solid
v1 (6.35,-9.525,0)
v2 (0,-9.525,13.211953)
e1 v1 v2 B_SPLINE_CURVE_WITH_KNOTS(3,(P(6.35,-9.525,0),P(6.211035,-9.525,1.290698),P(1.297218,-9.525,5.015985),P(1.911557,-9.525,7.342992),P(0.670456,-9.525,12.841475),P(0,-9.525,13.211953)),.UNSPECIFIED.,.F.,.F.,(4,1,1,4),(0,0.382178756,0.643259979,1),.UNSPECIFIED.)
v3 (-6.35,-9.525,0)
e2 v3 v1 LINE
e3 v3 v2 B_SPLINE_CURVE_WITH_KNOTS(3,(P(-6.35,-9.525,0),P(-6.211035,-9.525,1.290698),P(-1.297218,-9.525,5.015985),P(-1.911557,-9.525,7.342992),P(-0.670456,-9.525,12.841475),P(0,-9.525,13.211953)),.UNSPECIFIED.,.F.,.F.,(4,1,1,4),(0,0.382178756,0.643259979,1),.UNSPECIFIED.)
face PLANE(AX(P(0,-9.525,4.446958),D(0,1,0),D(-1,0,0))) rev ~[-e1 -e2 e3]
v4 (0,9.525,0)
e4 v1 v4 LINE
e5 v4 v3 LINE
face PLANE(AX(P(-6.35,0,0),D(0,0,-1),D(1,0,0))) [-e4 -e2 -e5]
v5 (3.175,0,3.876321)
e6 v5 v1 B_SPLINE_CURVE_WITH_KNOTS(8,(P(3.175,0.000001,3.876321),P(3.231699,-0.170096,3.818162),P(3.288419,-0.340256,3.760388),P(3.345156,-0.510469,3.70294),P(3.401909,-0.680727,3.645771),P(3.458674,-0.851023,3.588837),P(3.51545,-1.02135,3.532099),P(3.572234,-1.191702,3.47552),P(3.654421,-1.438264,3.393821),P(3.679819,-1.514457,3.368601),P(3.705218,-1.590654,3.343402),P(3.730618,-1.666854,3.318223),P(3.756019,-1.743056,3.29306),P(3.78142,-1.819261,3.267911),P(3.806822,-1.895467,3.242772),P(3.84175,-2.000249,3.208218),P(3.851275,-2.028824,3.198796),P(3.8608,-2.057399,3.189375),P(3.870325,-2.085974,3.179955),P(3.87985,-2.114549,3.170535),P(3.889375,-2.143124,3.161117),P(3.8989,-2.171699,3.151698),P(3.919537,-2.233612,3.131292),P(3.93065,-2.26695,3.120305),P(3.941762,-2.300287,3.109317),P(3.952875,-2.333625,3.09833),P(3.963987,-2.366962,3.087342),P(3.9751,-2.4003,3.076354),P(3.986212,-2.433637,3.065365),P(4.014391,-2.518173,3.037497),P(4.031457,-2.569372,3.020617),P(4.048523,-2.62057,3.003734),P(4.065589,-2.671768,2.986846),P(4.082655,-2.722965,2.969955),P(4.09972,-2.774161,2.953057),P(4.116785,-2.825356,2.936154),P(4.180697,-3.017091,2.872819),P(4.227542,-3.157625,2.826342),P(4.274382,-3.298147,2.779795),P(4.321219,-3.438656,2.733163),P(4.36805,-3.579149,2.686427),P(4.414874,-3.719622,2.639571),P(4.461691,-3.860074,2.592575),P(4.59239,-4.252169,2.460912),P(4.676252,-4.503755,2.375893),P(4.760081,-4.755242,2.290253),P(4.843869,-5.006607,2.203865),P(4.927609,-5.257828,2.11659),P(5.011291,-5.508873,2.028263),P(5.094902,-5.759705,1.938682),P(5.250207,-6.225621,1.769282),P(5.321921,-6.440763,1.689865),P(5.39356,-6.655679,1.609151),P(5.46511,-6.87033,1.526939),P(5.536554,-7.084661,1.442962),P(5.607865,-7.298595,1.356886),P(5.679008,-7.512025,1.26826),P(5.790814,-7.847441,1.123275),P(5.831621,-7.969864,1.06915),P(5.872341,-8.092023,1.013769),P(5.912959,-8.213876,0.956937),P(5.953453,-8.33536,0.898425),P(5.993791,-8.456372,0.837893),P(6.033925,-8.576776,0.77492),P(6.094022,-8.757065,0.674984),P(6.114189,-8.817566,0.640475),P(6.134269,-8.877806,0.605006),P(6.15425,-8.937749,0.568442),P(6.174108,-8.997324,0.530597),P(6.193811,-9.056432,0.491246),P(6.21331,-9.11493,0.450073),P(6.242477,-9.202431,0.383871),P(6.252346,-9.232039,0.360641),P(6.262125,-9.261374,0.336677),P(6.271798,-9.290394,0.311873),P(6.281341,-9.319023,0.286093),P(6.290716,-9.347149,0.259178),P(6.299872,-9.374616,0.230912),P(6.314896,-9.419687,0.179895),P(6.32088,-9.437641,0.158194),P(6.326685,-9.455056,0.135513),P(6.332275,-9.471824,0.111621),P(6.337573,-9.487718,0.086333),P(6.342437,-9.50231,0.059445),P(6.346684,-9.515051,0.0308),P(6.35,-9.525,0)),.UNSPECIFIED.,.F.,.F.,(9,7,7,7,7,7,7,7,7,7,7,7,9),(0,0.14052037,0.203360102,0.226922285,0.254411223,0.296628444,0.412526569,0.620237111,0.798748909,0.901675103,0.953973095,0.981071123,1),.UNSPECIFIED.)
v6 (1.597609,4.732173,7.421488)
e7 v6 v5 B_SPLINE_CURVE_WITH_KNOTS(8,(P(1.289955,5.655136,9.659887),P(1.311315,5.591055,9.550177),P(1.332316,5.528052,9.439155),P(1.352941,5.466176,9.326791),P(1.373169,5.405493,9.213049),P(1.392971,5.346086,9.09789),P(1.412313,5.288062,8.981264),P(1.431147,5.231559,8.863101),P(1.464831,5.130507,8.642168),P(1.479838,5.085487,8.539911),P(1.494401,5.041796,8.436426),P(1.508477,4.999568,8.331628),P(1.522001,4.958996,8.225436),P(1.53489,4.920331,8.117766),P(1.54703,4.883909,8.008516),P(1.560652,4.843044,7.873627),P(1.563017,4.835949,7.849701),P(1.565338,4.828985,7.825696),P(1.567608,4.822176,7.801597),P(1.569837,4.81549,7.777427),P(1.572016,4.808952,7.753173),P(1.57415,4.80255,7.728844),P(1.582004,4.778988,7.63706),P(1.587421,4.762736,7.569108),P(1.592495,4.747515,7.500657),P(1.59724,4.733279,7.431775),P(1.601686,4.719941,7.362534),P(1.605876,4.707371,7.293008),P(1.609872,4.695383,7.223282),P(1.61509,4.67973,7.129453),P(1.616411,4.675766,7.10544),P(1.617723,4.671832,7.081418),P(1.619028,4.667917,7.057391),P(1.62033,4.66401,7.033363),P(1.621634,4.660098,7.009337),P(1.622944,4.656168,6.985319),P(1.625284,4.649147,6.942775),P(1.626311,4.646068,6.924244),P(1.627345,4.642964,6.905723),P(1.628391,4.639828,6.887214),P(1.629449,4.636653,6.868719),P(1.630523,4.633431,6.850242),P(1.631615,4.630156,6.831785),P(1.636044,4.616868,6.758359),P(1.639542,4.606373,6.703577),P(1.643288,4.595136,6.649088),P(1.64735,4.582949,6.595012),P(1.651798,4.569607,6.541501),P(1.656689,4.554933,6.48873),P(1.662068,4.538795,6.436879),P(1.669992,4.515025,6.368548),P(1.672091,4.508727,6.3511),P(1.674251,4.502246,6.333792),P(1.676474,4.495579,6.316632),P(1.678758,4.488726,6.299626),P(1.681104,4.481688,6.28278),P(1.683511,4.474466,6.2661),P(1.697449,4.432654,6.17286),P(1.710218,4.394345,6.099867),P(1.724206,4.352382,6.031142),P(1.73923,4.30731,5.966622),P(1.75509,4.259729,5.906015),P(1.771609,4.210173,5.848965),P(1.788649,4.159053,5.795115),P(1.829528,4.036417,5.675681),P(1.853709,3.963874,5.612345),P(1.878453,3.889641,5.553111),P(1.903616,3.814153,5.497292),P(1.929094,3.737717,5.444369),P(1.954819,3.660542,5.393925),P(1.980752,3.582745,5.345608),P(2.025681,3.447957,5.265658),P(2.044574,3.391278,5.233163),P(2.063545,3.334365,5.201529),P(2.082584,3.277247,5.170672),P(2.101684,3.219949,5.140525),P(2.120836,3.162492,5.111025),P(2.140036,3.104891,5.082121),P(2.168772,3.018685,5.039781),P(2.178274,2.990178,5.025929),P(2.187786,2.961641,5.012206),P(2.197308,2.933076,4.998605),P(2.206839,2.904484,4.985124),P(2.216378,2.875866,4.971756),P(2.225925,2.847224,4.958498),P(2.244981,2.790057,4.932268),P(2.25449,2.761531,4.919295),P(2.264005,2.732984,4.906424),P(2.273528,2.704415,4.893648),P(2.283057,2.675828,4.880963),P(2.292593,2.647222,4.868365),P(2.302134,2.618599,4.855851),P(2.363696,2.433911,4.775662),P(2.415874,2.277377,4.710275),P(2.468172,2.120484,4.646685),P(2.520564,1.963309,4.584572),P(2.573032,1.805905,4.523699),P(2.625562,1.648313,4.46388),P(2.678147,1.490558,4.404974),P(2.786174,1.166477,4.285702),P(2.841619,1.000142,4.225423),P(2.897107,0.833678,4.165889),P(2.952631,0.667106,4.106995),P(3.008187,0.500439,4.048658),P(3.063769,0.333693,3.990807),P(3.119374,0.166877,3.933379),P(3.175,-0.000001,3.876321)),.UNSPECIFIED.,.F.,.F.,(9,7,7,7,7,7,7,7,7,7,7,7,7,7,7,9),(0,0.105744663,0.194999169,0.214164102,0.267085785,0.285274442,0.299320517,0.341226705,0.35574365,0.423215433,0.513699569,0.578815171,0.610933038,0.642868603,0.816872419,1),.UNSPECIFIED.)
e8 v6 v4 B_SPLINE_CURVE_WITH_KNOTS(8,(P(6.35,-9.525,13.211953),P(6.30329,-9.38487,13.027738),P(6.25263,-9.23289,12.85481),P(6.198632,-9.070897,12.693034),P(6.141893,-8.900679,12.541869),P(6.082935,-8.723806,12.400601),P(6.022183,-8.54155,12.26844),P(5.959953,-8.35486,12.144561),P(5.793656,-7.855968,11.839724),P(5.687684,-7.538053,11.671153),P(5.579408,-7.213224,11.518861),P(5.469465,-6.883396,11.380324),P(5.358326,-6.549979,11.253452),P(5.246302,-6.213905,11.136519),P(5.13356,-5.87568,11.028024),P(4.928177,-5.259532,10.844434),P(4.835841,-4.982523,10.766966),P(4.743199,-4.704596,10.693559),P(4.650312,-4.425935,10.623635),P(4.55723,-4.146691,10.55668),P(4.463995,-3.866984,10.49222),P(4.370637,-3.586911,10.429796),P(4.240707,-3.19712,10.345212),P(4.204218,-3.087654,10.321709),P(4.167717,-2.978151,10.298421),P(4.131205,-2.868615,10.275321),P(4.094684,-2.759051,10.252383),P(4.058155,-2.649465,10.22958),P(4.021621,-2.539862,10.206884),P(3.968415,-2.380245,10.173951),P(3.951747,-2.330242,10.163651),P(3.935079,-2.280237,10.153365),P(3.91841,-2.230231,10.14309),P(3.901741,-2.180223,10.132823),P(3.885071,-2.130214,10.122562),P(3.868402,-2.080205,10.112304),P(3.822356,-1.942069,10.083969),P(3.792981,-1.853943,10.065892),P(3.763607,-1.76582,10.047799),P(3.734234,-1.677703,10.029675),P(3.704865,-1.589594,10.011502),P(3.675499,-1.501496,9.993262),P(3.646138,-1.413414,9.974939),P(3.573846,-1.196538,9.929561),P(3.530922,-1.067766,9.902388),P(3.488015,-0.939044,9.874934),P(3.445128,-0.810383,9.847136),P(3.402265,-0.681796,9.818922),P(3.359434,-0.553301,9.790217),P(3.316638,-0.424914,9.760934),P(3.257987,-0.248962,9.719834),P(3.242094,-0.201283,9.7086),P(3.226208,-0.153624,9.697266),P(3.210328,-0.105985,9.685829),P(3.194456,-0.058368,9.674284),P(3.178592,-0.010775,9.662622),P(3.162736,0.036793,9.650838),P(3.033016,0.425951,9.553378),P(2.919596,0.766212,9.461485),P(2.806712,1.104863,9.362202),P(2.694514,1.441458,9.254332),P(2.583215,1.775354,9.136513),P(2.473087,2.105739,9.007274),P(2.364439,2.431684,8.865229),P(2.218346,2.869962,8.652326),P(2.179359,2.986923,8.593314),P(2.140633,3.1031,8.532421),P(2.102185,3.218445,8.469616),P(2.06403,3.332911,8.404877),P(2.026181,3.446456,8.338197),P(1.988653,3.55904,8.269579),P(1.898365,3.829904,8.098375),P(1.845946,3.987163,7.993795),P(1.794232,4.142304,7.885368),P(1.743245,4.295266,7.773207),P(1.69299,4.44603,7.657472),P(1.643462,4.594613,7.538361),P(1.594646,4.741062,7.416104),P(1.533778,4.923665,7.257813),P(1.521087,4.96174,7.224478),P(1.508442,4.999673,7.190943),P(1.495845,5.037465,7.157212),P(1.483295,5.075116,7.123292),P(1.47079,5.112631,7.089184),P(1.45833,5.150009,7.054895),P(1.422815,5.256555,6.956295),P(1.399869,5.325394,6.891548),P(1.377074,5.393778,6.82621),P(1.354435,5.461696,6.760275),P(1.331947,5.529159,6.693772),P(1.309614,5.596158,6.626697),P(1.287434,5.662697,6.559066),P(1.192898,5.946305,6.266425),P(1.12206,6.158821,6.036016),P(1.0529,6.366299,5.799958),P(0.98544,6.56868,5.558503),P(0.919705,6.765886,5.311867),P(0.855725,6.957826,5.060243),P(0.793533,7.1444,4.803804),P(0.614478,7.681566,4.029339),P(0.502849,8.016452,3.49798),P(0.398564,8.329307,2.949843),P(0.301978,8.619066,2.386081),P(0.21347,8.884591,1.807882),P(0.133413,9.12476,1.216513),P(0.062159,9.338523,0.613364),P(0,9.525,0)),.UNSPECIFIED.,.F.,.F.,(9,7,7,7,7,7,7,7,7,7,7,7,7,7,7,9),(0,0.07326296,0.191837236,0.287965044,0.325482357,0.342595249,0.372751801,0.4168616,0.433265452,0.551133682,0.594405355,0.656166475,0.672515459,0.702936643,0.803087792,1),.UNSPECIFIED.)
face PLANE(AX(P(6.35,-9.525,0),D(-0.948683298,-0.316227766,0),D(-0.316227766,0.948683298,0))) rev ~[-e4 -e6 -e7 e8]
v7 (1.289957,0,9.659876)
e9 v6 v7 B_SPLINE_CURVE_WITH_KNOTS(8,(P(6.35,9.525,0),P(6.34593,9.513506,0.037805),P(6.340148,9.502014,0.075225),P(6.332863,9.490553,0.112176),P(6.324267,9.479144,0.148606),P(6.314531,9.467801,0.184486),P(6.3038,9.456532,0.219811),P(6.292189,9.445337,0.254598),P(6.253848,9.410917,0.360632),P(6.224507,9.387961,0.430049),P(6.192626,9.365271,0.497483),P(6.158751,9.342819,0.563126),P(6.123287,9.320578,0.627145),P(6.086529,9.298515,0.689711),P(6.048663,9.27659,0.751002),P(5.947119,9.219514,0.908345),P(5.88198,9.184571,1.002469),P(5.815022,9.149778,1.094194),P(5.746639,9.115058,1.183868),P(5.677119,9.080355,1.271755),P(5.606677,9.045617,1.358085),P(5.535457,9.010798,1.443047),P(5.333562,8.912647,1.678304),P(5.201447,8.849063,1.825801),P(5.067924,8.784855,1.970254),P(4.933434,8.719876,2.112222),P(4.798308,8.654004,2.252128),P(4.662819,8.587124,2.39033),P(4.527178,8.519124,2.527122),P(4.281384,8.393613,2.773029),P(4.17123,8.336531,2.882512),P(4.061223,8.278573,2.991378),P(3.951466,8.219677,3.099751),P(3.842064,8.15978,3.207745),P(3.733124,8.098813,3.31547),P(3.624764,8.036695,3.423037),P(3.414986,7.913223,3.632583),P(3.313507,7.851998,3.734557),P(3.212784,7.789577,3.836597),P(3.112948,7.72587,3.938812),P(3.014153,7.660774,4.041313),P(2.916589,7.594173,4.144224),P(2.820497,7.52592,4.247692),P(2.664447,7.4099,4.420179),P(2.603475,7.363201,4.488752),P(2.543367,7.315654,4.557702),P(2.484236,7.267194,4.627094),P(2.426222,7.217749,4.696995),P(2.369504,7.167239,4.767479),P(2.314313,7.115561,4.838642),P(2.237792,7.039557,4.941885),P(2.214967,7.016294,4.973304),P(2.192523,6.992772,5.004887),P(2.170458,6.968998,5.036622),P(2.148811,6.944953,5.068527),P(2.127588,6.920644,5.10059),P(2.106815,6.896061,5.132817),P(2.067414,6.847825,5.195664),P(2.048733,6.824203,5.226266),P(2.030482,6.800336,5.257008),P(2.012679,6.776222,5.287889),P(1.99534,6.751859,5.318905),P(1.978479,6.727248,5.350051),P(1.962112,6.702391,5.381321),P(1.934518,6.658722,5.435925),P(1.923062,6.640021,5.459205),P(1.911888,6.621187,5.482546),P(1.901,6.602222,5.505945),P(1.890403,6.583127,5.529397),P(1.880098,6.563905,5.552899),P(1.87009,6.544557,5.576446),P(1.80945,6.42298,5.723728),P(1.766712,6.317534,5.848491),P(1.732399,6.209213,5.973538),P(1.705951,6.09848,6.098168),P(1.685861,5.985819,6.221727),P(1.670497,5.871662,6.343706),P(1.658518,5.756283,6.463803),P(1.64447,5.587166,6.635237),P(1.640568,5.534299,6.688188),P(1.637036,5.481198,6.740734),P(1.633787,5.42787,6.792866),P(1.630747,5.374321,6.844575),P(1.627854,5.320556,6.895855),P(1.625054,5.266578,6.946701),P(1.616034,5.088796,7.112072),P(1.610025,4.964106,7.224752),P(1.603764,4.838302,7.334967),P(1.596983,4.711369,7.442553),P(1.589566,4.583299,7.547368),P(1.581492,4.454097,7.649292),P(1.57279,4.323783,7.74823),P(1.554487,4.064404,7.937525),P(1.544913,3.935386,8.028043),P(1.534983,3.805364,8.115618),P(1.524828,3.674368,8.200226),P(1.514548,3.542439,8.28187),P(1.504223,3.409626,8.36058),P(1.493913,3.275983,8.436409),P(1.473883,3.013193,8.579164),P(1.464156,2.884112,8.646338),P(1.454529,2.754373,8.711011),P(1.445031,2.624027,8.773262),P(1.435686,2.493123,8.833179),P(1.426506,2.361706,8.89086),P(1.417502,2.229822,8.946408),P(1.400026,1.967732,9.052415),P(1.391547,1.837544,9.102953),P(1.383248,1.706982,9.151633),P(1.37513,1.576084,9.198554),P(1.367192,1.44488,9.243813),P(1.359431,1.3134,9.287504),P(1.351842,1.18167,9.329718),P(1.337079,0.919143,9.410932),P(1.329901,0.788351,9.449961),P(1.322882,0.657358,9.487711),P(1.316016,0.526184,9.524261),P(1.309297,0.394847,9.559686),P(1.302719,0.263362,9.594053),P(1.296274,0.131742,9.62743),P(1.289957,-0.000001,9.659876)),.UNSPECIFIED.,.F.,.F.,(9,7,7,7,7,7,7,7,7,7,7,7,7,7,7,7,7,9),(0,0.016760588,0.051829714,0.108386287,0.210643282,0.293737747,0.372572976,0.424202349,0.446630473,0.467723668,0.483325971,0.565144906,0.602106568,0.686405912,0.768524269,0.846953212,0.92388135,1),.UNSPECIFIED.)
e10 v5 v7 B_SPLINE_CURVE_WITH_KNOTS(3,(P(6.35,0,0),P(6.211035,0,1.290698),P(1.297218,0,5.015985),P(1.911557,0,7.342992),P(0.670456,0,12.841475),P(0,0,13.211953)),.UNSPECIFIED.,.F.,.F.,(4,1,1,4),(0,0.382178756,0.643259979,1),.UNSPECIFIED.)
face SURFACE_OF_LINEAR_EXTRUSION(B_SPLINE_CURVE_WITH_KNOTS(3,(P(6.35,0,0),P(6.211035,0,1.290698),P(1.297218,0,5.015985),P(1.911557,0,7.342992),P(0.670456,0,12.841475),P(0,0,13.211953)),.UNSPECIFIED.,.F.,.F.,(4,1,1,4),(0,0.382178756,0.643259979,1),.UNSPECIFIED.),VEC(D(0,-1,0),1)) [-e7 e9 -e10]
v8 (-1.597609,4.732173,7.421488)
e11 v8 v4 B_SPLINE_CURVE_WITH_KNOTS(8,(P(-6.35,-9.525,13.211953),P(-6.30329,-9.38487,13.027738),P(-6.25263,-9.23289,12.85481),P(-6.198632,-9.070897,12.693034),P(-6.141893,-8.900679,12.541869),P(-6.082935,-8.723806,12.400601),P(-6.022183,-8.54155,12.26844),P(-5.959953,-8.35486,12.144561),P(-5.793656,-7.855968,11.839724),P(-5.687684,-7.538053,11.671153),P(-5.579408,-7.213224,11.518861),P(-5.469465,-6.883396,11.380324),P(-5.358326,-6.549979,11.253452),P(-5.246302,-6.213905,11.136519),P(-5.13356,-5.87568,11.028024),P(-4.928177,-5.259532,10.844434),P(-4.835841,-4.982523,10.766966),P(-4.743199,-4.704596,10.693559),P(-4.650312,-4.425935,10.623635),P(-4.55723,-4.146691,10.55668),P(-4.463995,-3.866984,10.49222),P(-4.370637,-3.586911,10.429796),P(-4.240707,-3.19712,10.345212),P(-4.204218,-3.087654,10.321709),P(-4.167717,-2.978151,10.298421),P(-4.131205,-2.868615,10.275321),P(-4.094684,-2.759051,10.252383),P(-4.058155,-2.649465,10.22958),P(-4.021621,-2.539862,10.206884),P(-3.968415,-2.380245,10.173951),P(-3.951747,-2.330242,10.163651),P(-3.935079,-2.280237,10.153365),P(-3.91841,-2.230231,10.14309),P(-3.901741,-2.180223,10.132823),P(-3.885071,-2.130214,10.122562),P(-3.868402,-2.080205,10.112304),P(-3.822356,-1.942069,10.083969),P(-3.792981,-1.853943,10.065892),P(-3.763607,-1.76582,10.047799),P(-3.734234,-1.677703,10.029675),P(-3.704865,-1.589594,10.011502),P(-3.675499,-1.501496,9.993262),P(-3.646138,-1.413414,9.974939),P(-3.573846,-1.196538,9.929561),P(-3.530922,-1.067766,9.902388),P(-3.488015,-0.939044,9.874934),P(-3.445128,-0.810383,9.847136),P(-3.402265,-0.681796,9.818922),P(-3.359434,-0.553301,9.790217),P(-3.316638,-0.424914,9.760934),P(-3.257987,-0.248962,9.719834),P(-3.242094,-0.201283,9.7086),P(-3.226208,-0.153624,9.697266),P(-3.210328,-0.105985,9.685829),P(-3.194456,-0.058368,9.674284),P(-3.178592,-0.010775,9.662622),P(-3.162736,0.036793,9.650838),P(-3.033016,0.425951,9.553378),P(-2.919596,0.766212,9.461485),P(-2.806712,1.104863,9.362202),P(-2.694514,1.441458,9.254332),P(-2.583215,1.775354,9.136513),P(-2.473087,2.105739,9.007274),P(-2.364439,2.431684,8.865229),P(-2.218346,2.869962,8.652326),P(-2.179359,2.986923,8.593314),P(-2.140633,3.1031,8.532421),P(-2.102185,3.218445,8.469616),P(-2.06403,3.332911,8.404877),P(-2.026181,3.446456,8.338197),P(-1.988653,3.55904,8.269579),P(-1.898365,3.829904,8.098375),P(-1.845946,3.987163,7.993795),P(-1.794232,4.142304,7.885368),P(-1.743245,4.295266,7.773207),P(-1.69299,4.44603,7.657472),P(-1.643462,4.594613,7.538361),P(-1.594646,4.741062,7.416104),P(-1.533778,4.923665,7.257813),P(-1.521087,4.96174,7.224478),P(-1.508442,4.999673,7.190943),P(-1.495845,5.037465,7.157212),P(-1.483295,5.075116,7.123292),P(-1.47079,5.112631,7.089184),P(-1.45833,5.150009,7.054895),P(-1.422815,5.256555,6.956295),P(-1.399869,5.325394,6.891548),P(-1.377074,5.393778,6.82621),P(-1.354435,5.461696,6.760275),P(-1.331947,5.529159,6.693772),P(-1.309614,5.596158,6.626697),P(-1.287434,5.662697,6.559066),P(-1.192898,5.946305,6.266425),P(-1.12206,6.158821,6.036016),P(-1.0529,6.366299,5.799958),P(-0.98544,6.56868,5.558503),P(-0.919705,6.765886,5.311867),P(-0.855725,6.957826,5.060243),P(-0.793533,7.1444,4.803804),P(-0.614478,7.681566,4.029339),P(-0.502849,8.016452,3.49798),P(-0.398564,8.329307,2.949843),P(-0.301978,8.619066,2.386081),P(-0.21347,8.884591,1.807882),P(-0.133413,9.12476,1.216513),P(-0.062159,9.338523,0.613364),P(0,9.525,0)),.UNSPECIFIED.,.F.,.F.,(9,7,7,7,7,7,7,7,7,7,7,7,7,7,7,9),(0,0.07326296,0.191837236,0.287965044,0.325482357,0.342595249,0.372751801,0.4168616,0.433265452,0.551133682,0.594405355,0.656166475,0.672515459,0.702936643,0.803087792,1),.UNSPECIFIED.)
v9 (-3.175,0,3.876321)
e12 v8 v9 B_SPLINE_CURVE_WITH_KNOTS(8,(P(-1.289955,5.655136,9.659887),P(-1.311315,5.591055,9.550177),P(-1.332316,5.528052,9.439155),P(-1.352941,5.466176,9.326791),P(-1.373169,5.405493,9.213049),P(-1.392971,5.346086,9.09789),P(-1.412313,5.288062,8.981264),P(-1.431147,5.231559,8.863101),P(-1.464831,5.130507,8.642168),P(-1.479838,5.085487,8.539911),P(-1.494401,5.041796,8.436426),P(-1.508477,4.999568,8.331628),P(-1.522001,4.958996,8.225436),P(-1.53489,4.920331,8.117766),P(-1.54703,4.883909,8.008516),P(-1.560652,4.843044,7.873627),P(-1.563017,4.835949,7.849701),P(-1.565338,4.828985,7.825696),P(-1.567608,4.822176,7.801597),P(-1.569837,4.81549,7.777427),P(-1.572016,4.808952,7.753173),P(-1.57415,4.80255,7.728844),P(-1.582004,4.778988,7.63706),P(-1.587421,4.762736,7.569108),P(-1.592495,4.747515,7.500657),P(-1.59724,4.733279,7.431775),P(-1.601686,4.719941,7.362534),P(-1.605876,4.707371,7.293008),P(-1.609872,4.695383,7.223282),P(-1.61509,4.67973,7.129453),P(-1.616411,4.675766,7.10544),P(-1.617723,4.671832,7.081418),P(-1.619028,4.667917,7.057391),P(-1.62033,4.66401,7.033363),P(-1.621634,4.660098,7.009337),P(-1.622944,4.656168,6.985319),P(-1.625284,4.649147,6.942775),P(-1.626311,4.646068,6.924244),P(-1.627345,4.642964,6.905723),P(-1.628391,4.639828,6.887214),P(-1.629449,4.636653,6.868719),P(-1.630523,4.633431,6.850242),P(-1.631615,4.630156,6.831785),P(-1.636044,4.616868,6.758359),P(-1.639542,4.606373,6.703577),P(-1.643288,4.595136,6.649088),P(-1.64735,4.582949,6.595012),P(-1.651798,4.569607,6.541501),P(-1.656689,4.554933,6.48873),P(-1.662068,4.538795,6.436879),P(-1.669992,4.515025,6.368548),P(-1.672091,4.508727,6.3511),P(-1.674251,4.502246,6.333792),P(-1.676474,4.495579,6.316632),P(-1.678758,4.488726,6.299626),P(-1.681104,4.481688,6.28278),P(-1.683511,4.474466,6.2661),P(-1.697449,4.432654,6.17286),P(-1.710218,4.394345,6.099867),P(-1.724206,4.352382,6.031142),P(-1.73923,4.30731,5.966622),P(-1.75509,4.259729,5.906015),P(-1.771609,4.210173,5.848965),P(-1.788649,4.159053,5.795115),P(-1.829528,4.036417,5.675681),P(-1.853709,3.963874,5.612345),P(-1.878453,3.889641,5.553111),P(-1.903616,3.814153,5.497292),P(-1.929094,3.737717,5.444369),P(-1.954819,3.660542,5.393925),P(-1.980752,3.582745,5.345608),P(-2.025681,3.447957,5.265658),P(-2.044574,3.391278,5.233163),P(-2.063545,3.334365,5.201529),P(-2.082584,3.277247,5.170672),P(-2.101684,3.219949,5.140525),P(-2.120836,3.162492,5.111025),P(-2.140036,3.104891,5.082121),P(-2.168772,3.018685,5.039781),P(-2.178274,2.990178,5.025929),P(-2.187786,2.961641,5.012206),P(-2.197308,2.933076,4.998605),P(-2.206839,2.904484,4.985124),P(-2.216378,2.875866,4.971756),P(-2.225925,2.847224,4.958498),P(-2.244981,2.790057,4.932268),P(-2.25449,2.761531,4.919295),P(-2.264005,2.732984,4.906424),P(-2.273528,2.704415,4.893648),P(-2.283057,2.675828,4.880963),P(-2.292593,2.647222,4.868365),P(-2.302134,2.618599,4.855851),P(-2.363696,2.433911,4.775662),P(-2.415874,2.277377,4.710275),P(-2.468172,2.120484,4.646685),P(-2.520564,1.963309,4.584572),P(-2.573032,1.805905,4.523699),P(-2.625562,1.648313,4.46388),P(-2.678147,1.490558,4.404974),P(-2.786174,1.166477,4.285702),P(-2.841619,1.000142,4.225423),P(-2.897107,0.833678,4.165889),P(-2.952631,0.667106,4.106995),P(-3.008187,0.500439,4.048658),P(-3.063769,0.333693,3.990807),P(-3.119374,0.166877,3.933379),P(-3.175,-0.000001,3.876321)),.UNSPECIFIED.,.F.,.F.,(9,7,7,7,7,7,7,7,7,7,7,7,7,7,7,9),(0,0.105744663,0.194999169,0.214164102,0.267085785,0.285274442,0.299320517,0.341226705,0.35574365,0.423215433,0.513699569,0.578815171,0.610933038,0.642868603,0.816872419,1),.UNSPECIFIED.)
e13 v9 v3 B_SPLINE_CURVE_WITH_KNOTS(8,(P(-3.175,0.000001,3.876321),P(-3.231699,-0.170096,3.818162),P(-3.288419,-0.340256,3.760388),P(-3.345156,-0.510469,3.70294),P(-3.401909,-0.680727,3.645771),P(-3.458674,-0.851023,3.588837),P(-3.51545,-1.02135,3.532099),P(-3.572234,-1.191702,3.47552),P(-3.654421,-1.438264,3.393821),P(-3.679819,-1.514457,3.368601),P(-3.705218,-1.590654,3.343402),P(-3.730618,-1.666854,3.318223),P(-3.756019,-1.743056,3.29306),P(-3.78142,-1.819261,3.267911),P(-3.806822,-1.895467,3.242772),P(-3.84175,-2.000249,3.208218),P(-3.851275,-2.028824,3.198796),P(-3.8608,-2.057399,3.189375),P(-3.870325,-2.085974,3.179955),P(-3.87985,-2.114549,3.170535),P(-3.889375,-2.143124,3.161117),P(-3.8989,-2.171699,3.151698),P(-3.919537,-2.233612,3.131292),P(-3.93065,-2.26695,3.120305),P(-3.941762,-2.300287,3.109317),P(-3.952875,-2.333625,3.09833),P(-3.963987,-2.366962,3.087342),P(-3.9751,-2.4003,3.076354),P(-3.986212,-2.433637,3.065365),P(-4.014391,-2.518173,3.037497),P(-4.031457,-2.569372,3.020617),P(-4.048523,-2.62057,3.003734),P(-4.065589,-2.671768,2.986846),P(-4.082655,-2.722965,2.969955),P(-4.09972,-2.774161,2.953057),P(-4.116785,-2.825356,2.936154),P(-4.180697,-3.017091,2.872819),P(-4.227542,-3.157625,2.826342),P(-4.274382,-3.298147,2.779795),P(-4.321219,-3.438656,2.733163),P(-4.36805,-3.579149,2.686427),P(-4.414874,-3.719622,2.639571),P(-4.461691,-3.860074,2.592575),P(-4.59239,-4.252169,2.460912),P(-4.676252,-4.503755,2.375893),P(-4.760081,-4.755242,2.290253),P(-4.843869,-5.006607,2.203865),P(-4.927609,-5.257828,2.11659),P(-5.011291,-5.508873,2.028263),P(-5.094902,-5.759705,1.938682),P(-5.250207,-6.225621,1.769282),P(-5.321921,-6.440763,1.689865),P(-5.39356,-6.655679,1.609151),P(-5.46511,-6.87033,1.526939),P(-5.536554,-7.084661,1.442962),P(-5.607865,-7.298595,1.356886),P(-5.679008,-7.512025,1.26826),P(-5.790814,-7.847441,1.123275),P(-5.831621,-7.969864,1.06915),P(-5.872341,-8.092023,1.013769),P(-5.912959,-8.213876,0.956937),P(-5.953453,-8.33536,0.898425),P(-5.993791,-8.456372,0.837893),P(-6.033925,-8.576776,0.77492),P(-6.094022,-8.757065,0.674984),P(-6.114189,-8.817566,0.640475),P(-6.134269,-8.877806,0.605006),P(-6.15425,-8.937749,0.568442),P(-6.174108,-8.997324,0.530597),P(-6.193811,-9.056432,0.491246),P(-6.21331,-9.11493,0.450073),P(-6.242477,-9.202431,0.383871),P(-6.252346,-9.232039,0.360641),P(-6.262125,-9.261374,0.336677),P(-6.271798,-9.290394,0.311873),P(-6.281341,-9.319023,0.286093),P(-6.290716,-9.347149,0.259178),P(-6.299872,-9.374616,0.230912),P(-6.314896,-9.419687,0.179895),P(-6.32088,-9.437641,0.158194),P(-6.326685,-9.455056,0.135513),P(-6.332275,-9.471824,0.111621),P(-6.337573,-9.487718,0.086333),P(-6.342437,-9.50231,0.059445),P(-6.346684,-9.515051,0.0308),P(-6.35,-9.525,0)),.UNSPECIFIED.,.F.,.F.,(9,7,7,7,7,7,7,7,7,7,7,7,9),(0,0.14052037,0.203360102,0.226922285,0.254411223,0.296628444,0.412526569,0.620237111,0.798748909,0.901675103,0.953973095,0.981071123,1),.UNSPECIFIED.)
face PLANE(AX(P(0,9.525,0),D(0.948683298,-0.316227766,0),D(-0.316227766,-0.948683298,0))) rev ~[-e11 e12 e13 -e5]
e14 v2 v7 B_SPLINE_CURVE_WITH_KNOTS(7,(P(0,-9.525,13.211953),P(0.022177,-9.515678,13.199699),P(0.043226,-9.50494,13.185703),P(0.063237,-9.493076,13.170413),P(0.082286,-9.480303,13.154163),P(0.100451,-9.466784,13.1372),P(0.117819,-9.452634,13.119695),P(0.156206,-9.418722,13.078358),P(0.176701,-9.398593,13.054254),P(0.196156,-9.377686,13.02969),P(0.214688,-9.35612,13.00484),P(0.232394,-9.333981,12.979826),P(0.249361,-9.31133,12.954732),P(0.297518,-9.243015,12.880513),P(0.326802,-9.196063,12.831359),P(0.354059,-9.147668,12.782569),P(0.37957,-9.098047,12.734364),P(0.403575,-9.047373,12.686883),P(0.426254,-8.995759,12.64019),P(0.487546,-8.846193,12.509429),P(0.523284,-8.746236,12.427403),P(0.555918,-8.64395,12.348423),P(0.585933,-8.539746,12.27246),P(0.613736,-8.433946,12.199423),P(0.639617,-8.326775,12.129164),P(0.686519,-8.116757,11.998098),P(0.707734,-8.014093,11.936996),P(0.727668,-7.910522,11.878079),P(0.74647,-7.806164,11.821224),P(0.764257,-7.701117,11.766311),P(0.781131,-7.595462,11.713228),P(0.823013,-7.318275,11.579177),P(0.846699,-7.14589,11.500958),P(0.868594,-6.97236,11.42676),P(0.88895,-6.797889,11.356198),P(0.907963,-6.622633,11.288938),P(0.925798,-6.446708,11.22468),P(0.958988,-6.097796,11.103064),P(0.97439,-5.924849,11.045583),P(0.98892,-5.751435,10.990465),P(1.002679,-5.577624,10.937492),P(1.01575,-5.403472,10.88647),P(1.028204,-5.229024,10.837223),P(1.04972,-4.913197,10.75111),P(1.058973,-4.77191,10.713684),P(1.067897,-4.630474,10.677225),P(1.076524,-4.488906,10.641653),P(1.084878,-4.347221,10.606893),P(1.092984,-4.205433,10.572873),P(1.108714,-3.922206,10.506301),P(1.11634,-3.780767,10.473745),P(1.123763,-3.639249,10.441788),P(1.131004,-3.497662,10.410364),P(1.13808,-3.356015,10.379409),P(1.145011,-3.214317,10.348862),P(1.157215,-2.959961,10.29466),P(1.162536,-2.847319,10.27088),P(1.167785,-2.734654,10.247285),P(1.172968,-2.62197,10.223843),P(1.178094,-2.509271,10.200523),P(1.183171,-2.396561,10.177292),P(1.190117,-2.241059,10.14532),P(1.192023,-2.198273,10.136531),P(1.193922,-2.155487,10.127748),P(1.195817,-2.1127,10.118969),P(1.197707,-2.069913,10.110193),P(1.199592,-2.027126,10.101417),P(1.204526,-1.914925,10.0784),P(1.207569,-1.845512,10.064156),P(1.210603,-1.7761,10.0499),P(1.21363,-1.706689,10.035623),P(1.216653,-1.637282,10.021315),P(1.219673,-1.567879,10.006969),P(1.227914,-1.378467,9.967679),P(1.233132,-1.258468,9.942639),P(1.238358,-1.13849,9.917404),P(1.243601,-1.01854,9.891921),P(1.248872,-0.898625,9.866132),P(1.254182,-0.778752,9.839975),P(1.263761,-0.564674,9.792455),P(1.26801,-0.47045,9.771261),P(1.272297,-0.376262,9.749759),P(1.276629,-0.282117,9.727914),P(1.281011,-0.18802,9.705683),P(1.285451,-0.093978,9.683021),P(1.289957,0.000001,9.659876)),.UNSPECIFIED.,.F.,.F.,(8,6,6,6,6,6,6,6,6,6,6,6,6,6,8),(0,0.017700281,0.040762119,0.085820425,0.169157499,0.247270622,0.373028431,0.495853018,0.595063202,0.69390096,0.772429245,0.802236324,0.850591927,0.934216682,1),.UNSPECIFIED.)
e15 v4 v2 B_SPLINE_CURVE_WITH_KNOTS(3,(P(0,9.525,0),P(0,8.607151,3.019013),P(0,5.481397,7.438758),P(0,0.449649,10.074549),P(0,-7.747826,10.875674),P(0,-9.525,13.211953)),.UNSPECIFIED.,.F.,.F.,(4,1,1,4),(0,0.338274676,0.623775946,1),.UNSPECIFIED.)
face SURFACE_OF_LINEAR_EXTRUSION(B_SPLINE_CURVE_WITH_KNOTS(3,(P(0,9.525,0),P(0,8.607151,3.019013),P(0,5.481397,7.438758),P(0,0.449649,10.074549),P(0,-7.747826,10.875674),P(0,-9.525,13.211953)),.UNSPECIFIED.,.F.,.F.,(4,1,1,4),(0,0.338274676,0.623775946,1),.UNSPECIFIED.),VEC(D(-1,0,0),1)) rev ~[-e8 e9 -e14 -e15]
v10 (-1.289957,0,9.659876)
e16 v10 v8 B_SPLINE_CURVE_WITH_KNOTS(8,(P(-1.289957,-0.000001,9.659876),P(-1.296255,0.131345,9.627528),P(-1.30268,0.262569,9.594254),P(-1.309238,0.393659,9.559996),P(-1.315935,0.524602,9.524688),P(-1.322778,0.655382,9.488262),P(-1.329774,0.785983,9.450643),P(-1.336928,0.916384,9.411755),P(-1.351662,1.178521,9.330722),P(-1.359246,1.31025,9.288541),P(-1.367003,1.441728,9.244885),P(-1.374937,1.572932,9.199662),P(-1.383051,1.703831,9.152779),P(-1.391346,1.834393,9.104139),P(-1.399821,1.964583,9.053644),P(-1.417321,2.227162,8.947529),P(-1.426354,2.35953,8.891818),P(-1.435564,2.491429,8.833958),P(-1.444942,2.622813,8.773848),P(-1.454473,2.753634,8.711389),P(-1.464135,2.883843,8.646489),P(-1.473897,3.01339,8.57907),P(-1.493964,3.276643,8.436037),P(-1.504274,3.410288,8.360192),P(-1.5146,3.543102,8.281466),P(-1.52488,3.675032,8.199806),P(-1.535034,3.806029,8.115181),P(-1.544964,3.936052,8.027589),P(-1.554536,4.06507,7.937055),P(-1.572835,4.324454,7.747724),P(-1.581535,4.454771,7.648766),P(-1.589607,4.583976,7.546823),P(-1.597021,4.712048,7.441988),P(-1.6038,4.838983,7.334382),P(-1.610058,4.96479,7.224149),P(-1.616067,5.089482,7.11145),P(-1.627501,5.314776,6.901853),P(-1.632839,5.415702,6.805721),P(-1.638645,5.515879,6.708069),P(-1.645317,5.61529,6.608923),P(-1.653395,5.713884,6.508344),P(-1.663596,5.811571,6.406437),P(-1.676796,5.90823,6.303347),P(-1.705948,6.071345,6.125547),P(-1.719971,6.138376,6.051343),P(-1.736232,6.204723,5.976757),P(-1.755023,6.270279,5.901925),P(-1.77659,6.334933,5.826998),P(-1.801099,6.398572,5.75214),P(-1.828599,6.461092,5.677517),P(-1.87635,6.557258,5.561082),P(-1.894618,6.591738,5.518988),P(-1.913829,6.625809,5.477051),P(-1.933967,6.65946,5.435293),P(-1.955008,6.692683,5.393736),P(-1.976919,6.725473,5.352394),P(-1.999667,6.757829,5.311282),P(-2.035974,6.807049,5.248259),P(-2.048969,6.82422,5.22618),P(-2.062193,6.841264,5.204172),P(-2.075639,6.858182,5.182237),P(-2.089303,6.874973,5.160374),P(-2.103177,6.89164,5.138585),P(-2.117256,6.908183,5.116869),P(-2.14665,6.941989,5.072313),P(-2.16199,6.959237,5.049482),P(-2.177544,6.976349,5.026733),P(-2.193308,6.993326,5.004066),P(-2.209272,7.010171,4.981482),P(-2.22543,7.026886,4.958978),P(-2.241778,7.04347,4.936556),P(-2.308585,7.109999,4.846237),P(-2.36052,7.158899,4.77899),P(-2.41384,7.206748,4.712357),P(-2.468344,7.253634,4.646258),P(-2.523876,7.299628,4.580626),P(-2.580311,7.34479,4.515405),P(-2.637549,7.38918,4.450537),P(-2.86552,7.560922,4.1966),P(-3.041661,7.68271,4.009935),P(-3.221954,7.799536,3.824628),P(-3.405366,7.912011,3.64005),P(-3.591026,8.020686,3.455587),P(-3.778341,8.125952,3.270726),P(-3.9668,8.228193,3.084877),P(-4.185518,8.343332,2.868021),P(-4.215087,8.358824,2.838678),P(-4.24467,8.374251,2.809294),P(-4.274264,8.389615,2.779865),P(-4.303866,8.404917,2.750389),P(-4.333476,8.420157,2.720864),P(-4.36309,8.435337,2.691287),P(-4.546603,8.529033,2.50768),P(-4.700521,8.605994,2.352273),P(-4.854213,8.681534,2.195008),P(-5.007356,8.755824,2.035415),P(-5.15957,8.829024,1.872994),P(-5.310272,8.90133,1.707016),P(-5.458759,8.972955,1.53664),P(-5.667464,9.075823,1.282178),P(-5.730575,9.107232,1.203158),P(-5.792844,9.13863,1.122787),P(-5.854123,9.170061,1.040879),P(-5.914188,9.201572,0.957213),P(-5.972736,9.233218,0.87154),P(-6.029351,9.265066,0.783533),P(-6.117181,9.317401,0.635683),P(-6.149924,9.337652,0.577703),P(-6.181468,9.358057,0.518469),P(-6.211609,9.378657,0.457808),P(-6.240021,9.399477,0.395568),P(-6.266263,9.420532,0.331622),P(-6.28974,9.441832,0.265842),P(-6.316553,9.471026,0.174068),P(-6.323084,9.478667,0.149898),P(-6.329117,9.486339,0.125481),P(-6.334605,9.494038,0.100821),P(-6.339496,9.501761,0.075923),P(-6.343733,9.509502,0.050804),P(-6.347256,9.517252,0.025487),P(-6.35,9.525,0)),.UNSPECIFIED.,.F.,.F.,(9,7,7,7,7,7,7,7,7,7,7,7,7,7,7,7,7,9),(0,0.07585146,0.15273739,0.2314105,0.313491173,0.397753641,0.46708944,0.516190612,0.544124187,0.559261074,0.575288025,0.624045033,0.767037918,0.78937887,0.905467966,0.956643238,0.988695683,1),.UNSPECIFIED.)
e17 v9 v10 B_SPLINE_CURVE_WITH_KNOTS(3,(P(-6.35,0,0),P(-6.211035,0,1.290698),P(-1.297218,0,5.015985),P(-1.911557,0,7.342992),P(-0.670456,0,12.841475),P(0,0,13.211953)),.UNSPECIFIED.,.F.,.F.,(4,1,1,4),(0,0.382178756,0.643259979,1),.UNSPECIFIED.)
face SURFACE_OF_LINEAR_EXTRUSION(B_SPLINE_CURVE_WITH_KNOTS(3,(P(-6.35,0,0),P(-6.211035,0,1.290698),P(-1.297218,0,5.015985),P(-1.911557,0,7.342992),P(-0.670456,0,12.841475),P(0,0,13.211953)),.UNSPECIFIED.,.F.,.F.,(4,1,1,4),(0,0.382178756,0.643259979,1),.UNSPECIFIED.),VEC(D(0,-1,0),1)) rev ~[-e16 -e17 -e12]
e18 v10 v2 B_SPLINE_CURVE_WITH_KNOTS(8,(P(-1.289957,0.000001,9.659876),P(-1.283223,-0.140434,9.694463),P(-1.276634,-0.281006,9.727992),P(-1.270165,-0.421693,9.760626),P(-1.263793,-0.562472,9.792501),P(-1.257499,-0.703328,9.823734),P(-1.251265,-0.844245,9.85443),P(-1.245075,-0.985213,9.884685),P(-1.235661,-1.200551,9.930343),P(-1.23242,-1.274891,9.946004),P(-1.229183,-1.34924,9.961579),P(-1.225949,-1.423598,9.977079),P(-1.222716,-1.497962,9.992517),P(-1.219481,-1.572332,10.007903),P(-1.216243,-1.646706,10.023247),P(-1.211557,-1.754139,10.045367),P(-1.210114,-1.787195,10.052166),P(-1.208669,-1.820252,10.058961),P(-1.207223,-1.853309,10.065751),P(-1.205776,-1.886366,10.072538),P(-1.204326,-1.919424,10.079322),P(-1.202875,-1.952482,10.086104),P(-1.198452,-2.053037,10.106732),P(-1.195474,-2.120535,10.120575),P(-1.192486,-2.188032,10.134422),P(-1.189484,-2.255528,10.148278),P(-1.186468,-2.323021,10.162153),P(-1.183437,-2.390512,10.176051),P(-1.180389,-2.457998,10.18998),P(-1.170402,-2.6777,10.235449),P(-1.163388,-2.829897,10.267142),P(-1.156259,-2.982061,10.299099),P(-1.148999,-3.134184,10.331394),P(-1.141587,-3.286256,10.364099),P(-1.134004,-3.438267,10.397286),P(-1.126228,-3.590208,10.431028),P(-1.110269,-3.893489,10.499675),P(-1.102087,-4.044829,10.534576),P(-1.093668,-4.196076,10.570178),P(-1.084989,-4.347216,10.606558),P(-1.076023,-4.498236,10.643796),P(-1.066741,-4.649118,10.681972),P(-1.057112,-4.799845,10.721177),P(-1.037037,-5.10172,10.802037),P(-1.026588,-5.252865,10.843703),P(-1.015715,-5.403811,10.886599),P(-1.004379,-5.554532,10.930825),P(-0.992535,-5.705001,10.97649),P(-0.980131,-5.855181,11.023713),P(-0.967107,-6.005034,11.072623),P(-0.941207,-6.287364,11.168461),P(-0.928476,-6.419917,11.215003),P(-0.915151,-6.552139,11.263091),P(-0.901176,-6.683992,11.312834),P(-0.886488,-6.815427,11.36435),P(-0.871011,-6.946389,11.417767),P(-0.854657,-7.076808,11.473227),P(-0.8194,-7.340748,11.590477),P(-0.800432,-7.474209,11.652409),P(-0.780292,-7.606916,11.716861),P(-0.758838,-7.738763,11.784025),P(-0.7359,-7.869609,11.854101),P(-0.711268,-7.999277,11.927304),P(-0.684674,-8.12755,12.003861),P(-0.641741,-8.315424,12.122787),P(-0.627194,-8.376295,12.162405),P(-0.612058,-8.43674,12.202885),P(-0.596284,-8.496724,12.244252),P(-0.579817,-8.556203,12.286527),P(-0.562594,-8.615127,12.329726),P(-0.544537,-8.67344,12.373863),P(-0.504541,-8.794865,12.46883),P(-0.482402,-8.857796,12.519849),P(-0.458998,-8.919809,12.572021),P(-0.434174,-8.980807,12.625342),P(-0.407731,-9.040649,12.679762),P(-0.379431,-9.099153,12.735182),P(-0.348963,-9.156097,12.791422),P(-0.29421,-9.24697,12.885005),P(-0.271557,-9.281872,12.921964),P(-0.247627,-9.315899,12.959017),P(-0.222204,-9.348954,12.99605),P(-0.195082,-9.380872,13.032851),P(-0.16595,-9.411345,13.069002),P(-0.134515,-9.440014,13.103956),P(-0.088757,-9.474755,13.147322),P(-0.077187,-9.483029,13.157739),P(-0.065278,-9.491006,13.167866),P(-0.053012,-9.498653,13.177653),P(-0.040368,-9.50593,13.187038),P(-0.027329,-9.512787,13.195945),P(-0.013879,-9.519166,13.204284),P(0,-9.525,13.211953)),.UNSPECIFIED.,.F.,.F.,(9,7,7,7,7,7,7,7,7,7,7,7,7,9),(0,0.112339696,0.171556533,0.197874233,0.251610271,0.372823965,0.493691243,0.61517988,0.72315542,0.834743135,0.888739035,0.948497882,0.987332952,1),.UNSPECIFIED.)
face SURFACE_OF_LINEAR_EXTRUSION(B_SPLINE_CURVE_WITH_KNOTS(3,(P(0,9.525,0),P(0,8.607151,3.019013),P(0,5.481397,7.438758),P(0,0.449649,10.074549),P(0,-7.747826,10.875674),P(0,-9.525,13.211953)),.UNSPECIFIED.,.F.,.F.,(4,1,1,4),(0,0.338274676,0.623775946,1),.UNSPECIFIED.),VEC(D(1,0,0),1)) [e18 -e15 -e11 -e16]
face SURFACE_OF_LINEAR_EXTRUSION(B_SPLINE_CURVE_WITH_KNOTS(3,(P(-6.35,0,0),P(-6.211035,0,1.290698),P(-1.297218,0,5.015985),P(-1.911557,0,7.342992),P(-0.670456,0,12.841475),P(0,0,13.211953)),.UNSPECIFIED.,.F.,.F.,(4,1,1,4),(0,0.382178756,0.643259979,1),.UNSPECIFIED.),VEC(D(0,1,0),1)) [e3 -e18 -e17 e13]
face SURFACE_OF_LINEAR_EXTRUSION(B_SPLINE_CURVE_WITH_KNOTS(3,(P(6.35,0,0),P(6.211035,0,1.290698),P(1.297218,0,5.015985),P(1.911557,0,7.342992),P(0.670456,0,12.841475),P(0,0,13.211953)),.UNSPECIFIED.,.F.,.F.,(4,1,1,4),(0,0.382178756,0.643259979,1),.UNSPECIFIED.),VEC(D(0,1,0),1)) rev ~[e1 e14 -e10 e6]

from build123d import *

# Parameters (mm, degrees)
F2_DEPTH      = 9.525
F2_DEPTH_BACK = 9.525
F4_DEPTH      = 25.4
F4_DEPTH_BACK = 25.4
F6_DEPTH      = 25.4


with BuildPart() as f2:
    # F1 (on Front) → F2 (new body, two sides)
    with BuildSketch(Plane.XZ) as f2_sk:
        with BuildLine():
            add(Edge.make_bspline(
                [(-6.35, 0), (-6.2110349142, 1.2906979649), (-1.2972179352, 5.0159845421), (-1.9115572012, 7.3429921483), (-0.6704563662, 12.8414753028), (0, 13.2119530768)],
                knots=[0, 0, 0, 0, 0.3821787562, 0.6432599793, 1, 1, 1, 1], degree=3))
            Line((-6.35, 0), (6.35, 0))
            add(Edge.make_bspline(
                [(6.35, 0), (6.2110349142, 1.2906979649), (1.2972179352, 5.0159845421), (1.9115572012, 7.3429921483), (0.6704563662, 12.8414753028), (0, 13.2119530768)],
                knots=[0, 0, 0, 0, 0.3821787562, 0.6432599793, 1, 1, 1, 1], degree=3))
        make_face()
    extrude(amount=F2_DEPTH)
    extrude(f2_sk.sketch, amount=-F2_DEPTH_BACK)

    # F3 (on Right) → F4 (cut, two sides)
    with BuildSketch(Plane.YZ) as f4_sk:
        with BuildLine():
            add(Edge.make_bspline(
                [(9.525, 0), (8.6071506136, 3.0190129192), (5.4813965302, 7.4387582474), (0.4496493374, 10.0745490682), (-7.747826098, 10.8756744565), (-9.525, 13.2119530768)],
                knots=[0, 0, 0, 0, 0.3382746758, 0.6237759463, 1, 1, 1, 1], degree=3))
            add(Edge.make_bspline(
                [(9.525, 0), (9.525, 0.430232655), (9.525, 2.1022275023), (9.525, 4.5498915517), (9.525, 8.4001506644), (9.525, 11.132140176), (9.525, 13.0884604855), (9.525, 13.2119530768)],
                knots=[0, 0, 0, 0, 1.2906979649, 5.0159845421, 7.3429921483, 12.8414753028, 13.2119530768, 13.2119530768, 13.2119530768, 13.2119530768], degree=3))
            Line((9.525, 13.2119530768), (-9.525, 13.2119530768))
        make_face()
    extrude(amount=F4_DEPTH, mode=Mode.SUBTRACT)
    extrude(f4_sk.sketch, amount=-F4_DEPTH_BACK, mode=Mode.SUBTRACT)

    # F5 (on Top) → F6 (intersect)
    with BuildSketch(Plane.XY):
        Polygon((0, 9.525), (-6.35, -9.525), (6.35, -9.525), align=None)
    extrude(amount=F6_DEPTH, mode=Mode.INTERSECT)


solid = f2.part
